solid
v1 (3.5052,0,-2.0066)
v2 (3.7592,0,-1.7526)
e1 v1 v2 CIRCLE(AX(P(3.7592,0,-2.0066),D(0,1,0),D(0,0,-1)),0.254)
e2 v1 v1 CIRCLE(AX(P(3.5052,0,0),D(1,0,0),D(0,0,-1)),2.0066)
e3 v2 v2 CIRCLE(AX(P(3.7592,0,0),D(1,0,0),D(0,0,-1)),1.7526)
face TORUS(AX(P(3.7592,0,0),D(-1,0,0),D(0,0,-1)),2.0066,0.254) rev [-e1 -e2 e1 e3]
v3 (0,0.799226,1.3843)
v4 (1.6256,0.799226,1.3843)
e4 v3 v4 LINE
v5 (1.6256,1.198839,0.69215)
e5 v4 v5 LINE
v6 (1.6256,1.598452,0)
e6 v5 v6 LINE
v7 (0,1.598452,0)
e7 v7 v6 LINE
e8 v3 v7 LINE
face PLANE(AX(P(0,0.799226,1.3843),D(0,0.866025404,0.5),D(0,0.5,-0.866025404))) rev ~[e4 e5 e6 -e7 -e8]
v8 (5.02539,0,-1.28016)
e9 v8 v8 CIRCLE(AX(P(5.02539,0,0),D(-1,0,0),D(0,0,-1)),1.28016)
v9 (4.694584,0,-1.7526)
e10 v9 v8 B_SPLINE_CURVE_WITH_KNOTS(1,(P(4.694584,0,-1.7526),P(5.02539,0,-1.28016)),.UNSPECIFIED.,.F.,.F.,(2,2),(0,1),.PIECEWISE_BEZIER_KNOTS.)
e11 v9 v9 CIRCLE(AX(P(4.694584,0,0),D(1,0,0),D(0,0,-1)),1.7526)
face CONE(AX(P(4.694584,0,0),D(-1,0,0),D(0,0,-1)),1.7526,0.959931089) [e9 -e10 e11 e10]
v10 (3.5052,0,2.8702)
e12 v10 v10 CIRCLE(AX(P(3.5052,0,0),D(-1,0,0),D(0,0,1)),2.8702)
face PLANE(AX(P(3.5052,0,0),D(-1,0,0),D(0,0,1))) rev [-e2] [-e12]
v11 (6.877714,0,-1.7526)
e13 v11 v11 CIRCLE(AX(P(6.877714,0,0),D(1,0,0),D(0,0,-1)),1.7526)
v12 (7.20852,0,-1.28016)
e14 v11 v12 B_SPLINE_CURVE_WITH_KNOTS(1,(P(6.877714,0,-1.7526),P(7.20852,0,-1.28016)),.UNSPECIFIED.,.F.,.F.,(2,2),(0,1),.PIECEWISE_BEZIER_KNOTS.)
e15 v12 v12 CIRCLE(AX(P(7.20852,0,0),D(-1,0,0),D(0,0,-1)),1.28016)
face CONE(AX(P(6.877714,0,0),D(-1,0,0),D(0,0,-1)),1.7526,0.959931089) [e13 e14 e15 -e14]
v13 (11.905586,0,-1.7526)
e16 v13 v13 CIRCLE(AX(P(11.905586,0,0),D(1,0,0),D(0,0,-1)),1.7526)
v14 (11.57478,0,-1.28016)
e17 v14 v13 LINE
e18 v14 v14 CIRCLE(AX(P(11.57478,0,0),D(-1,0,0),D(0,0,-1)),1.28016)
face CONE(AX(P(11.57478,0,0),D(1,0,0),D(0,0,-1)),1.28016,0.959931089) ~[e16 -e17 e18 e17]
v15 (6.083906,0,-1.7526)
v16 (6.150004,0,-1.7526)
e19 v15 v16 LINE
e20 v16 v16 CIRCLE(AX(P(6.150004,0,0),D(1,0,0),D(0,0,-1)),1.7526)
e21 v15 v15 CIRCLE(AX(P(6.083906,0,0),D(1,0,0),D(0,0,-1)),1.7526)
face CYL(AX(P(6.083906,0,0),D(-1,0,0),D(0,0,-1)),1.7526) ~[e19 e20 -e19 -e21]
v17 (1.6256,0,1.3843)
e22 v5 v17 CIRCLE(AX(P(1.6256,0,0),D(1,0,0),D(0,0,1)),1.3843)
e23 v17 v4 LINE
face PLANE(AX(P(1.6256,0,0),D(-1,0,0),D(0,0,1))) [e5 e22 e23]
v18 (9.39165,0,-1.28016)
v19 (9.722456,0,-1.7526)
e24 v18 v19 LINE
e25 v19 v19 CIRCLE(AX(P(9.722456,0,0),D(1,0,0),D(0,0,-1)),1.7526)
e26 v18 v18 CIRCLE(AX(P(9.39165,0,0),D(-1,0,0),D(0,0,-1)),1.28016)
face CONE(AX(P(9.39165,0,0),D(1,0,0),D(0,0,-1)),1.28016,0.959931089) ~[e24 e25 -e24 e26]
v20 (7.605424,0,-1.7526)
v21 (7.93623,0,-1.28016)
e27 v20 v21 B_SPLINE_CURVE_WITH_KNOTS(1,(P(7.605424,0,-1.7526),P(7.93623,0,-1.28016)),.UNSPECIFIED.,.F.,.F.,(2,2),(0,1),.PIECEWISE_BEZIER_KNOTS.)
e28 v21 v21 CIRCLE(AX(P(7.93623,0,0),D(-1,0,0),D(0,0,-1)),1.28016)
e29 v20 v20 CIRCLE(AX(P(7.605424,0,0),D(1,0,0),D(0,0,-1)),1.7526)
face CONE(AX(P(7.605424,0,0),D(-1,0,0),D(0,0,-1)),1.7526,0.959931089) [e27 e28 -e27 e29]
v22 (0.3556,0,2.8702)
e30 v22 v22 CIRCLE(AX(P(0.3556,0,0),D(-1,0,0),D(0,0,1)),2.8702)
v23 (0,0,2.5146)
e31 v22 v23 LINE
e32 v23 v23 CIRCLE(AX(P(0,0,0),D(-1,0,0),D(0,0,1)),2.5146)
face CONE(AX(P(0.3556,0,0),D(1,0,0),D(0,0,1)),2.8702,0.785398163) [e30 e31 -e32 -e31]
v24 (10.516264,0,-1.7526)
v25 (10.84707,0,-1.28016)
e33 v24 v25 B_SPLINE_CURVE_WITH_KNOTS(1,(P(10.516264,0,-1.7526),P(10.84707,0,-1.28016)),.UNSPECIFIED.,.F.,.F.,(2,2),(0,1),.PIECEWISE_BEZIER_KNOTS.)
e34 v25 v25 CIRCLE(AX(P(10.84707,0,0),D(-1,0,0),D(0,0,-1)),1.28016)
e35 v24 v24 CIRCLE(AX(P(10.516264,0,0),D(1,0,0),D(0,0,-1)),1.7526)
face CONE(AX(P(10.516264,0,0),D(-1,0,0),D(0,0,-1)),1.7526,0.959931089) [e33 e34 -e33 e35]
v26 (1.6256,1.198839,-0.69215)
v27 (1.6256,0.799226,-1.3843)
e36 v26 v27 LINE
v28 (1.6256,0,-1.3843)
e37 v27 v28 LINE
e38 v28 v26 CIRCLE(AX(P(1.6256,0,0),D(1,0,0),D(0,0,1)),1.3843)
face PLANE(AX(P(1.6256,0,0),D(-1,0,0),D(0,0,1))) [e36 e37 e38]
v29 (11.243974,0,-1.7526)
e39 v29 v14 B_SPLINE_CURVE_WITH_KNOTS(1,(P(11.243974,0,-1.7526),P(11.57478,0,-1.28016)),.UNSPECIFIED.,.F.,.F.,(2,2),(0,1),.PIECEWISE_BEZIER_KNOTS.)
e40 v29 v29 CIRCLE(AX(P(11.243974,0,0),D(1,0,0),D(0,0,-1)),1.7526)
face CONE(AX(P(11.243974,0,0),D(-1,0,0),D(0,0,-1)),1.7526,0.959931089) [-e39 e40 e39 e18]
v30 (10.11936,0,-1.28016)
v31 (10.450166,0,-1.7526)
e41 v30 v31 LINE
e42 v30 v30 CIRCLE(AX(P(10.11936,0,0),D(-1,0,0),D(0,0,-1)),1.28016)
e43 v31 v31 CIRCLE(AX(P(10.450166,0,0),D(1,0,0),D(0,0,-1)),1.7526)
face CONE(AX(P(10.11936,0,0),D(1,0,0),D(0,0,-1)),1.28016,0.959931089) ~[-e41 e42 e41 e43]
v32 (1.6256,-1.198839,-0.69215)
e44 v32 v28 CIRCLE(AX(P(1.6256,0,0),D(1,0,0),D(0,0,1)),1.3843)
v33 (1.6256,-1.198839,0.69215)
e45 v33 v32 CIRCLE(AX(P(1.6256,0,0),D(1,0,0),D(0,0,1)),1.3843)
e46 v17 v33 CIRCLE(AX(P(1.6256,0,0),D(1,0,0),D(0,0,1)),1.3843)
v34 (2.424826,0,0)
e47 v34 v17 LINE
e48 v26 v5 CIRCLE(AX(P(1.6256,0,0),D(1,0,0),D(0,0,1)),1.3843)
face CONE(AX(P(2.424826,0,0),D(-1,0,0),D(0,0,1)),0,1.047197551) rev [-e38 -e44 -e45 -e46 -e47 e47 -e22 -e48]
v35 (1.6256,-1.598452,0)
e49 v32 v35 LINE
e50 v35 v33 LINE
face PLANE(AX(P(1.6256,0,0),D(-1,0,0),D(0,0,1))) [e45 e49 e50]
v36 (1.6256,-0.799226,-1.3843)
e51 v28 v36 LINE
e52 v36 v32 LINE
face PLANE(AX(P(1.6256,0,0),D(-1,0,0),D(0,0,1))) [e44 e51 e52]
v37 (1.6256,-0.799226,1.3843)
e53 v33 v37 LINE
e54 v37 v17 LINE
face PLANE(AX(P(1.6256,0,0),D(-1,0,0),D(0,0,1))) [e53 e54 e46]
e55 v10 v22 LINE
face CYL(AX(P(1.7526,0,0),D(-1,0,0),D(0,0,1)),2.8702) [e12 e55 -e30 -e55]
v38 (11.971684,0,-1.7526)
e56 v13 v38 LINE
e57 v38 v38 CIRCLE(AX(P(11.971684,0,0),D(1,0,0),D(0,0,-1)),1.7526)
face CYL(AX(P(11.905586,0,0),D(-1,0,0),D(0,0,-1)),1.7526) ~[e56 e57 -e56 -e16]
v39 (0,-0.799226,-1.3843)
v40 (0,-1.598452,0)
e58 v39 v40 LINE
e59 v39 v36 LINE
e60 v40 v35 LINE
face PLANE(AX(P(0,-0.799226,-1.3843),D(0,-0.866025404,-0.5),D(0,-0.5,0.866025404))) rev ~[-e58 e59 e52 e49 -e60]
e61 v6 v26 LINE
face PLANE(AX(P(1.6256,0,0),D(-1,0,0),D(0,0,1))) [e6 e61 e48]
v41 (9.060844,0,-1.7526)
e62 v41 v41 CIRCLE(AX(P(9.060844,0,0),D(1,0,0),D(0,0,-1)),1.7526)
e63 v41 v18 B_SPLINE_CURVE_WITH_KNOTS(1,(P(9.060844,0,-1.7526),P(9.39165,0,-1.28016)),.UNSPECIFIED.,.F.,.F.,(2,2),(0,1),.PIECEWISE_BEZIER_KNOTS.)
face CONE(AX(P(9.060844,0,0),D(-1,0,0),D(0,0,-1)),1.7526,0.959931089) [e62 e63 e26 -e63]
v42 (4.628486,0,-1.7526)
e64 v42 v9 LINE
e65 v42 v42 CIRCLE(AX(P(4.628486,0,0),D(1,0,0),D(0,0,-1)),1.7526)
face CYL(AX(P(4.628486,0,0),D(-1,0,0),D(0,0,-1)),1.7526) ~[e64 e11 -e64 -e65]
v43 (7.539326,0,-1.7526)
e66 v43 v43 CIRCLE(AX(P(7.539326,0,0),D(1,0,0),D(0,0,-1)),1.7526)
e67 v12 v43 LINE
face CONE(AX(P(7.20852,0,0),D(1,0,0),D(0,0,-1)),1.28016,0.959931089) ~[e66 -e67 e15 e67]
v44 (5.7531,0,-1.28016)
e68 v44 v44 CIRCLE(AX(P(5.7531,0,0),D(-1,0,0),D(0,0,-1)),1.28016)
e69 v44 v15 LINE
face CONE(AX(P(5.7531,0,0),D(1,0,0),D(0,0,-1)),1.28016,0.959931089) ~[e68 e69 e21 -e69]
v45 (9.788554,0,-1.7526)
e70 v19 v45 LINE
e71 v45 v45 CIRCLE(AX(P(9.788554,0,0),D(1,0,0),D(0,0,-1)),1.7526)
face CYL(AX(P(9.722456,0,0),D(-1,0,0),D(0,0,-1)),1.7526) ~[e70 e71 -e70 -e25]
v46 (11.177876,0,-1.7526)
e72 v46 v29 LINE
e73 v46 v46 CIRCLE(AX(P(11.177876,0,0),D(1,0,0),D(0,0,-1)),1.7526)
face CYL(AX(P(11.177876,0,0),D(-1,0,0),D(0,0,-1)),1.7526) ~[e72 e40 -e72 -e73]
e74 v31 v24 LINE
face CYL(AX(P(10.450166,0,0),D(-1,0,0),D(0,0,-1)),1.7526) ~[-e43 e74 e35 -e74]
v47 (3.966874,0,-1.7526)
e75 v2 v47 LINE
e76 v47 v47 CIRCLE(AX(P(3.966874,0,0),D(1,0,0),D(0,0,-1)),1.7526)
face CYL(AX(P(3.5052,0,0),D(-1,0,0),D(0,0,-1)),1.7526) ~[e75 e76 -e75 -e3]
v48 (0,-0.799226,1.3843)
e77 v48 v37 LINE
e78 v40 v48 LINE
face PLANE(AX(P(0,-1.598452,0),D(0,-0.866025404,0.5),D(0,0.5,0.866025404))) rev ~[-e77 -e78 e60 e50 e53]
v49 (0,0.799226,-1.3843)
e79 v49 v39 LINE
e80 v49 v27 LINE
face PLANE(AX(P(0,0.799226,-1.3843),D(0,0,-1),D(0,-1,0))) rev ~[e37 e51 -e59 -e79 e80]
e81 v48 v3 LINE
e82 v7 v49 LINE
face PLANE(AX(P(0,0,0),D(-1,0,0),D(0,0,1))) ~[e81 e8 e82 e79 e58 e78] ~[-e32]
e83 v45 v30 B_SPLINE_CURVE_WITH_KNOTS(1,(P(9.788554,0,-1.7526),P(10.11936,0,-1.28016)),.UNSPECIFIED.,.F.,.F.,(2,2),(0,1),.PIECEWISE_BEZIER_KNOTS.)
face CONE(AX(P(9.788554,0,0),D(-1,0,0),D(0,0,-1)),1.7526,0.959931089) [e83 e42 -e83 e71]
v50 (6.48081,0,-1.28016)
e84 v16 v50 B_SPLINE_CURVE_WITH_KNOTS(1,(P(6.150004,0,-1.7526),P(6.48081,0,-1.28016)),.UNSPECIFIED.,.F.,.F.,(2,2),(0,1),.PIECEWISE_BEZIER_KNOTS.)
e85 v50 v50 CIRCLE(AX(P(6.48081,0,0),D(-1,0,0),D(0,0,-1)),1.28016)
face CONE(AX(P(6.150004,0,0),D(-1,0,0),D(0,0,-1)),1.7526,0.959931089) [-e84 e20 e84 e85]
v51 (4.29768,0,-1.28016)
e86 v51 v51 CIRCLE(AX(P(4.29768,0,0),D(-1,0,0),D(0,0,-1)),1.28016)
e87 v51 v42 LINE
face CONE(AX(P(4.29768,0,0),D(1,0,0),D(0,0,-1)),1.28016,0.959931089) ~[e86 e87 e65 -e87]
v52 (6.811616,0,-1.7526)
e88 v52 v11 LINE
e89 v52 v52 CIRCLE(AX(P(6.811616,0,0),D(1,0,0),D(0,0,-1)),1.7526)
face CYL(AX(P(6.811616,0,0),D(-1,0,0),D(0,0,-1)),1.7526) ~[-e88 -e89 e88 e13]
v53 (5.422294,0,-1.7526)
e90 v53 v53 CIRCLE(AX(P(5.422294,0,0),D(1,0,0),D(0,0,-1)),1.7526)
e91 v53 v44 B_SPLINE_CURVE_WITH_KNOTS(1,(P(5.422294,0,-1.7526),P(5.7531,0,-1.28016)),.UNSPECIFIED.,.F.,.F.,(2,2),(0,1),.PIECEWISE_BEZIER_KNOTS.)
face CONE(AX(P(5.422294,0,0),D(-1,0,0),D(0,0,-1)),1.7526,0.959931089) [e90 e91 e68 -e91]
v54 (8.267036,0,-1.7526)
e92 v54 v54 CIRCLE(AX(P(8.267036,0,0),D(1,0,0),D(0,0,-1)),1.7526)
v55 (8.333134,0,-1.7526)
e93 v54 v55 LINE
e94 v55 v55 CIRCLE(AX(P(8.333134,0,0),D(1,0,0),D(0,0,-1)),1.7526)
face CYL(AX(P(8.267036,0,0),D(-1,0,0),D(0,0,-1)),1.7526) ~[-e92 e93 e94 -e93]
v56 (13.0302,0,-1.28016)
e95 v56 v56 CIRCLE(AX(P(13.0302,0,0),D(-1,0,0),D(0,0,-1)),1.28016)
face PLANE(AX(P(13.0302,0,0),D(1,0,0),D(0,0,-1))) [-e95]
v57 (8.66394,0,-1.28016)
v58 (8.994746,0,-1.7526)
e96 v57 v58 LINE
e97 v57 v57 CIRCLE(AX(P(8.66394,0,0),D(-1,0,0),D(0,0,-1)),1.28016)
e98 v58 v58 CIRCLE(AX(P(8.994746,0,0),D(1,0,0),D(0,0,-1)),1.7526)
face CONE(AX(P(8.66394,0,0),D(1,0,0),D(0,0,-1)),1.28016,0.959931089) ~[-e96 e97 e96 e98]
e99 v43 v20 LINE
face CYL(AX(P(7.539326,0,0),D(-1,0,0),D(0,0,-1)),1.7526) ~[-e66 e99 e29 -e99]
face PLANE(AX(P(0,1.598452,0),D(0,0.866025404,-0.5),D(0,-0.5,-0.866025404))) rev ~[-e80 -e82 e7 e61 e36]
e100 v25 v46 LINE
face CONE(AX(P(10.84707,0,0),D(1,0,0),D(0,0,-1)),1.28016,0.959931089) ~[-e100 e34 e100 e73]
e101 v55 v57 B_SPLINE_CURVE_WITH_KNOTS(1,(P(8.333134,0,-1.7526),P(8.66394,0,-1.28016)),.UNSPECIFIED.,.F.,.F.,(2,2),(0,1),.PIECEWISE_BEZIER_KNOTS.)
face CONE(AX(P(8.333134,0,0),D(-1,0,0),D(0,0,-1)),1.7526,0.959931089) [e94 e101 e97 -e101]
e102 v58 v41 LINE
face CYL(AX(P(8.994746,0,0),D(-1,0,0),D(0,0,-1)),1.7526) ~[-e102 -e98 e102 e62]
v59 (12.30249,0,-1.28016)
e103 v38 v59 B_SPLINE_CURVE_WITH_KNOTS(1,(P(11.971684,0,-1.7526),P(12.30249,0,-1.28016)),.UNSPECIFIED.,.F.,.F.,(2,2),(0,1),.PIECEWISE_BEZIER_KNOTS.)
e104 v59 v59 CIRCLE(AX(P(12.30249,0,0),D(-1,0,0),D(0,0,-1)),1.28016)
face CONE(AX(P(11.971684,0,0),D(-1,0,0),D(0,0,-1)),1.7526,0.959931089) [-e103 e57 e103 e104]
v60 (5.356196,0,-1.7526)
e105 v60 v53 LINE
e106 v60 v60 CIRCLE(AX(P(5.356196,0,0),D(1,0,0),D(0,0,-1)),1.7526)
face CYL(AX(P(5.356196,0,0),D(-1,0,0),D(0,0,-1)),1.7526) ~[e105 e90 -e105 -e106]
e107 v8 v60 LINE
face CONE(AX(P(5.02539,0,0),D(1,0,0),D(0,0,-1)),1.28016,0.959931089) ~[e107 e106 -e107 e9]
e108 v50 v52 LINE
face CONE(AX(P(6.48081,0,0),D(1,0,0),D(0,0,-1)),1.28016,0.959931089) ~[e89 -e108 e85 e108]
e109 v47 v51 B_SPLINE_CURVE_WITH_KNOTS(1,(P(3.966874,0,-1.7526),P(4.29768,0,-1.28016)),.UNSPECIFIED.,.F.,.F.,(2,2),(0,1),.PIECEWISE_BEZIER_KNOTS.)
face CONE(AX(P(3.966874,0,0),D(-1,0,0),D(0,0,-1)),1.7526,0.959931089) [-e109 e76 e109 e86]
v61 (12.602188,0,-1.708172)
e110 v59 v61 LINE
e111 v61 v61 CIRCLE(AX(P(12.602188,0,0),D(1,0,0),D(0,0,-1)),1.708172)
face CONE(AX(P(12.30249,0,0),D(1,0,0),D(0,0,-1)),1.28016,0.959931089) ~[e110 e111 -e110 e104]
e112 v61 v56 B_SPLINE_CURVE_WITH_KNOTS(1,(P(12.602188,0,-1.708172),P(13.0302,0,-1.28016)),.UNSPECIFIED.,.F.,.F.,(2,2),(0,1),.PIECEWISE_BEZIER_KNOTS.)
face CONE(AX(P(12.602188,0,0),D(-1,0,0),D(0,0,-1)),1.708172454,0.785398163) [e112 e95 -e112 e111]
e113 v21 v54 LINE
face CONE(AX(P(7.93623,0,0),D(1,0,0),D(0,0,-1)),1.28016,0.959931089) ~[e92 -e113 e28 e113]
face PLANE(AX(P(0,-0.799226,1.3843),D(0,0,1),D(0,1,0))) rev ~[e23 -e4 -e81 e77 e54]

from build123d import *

# Parameters (mm, degrees)
SKETCH1_W            = 3.5052
SKETCH1_H            = 2.8702
SKETCH2_R            = 1.7526
BOSS_EXTRUDE1_DEPTH  = 0.461673951
SKETCH3_R            = 1.7526
BOSS_EXTRUDE2_DEPTH  = 0.330806049
BOSS_EXTRUDE2_TAPER  = 54.999999998
SKETCH4_R            = 1.28016
BOSS_EXTRUDE3_DEPTH  = 0.330806049
BOSS_EXTRUDE3_DRAFT  = -55
SKETCH5_R            = 1.7526
BOSS_EXTRUDE4_DEPTH  = 0.066097901
SKETCH6_R            = 1.7526
BOSS_EXTRUDE5_DEPTH  = 0.330806049
BOSS_EXTRUDE5_TAPER  = 54.999999998
SKETCH7_R            = 1.28016
BOSS_EXTRUDE6_DEPTH  = 0.330806049
BOSS_EXTRUDE6_DRAFT  = -55
SKETCH8_R            = 1.7526
BOSS_EXTRUDE7_DEPTH  = 0.066097901
SKETCH9_R            = 1.7526
BOSS_EXTRUDE8_DEPTH  = 0.330806049
BOSS_EXTRUDE8_TAPER  = 54.999999998
SKETCH10_R           = 1.28016
BOSS_EXTRUDE9_DEPTH  = 0.330806049
BOSS_EXTRUDE9_DRAFT  = -55
SKETCH11_R           = 1.7526
BOSS_EXTRUDE10_DEPTH = 0.066097901
SKETCH12_R           = 1.7526
BOSS_EXTRUDE11_DEPTH = 0.330806049
BOSS_EXTRUDE11_TAPER = 54.999999998
SKETCH13_R           = 1.28016
BOSS_EXTRUDE12_DEPTH = 0.330806049
BOSS_EXTRUDE12_DRAFT = -55
SKETCH14_R           = 1.7526
BOSS_EXTRUDE13_DEPTH = 0.066097901
SKETCH15_R           = 1.7526
BOSS_EXTRUDE14_DEPTH = 0.330806049
BOSS_EXTRUDE14_TAPER = 54.999999998
SKETCH16_R           = 1.28016
BOSS_EXTRUDE15_DEPTH = 0.330806049
BOSS_EXTRUDE15_DRAFT = -55
SKETCH17_R           = 1.7526
BOSS_EXTRUDE16_DEPTH = 0.066097901
SKETCH18_R           = 1.7526
BOSS_EXTRUDE17_DEPTH = 0.330806049
BOSS_EXTRUDE17_TAPER = 54.999999998
SKETCH19_R           = 1.28016
BOSS_EXTRUDE18_DEPTH = 0.330806049
BOSS_EXTRUDE18_DRAFT = -55
SKETCH20_R           = 1.7526
BOSS_EXTRUDE19_DEPTH = 0.066097901
SKETCH21_R           = 1.7526
BOSS_EXTRUDE20_DEPTH = 0.330806049
BOSS_EXTRUDE20_TAPER = 54.999999998
SKETCH22_R           = 1.28016
BOSS_EXTRUDE21_DEPTH = 0.330806049
BOSS_EXTRUDE21_DRAFT = -55
SKETCH23_R           = 1.7526
BOSS_EXTRUDE22_DEPTH = 0.066097901
SKETCH24_R           = 1.7526
BOSS_EXTRUDE23_DEPTH = 0.330806049
BOSS_EXTRUDE23_TAPER = 54.999999998
SKETCH25_R           = 1.28016
BOSS_EXTRUDE24_DEPTH = 0.330806049
BOSS_EXTRUDE24_DRAFT = -55.000000004
SKETCH26_R           = 1.7526
BOSS_EXTRUDE25_DEPTH = 0.066097901
SKETCH27_R           = 1.7526
BOSS_EXTRUDE26_DEPTH = 0.330806049
BOSS_EXTRUDE26_TAPER = 54.999999998
SKETCH28_R           = 1.28016
BOSS_EXTRUDE27_DEPTH = 0.330806049
BOSS_EXTRUDE27_DRAFT = -55
SKETCH29_R           = 1.7526
BOSS_EXTRUDE28_DEPTH = 0.066097901
SKETCH30_R           = 1.7526
BOSS_EXTRUDE29_DEPTH = 0.330806049
BOSS_EXTRUDE29_TAPER = 54.999999998
SKETCH31_R           = 1.28016
BOSS_EXTRUDE30_DEPTH = 0.330806049
BOSS_EXTRUDE30_DRAFT = -55.000000004
SKETCH32_R           = 1.7526
BOSS_EXTRUDE31_DEPTH = 0.066097901
SKETCH33_R           = 1.7526
BOSS_EXTRUDE32_DEPTH = 0.330806049
BOSS_EXTRUDE32_TAPER = 54.999999998
SKETCH34_R           = 1.28016
BOSS_EXTRUDE33_DEPTH = 0.330806049
BOSS_EXTRUDE33_DRAFT = -55.000000004
SKETCH35_R           = 1.7526
BOSS_EXTRUDE34_DEPTH = 0.066097901
SKETCH36_R           = 1.7526
BOSS_EXTRUDE35_DEPTH = 0.330806049
BOSS_EXTRUDE35_TAPER = 54.999999998
SKETCH37_R           = 1.28016
BOSS_EXTRUDE36_DEPTH = 0.299697546
BOSS_EXTRUDE36_DRAFT = -55.000000002
SKETCH38_R           = 1.708172454
BOSS_EXTRUDE37_DEPTH = 0.428012454
BOSS_EXTRUDE37_TAPER = 45
CUT_EXTRUDE1_DEPTH   = 1.6256
CHAMFER1_SIZE        = 0.3556
FILLET1_R            = 0.254


with BuildPart() as part:
    # Sketch1 → Revolve1 (revolve)
    with BuildSketch(Plane(origin=(0, 0, 0), x_dir=(-1, 0, 0), z_dir=(0, 0, -1)), mode=Mode.PRIVATE) as revolve1_sk:
        with Locations((-1.7526, 1.4351)):
            Rectangle(SKETCH1_W, SKETCH1_H)
    revolve(revolve1_sk.sketch.rotate(Axis((3.5052, 0, 0), (-1, 0, 0)), 270), axis=Axis((3.5052, 0, 0), (-1, 0, 0)))

    # Sketch2 → Boss-Extrude1 (add)
    with BuildSketch(Plane(origin=(3.5052, 0, 0), x_dir=(0, 0, -1), z_dir=(1, 0, 0))):
        Circle(SKETCH2_R)
    extrude(amount=BOSS_EXTRUDE1_DEPTH)

    # Sketch3 → Boss-Extrude2 (add)
    with BuildSketch(Plane(origin=(3.966873951, 0, 0), x_dir=(0, 0, -1), z_dir=(1, 0, 0))):
        Circle(SKETCH3_R)
    extrude(amount=BOSS_EXTRUDE2_DEPTH, taper=BOSS_EXTRUDE2_TAPER)


with BuildPart() as boss_extrude3_tool:
    # Sketch4 → Boss-Extrude3 (with draft: the straight prism first)
    with BuildSketch(Plane(origin=(4.29768, 0, 0), x_dir=(0, 0, -1), z_dir=(1, 0, 0))):
        Circle(SKETCH4_R)
    extrude(amount=BOSS_EXTRUDE3_DEPTH)
    # Boss-Extrude3: the draft: its side faces are tilted about the plane it starts from
    boss_extrude3_sides = [boss_extrude3_tool.faces().sort_by_distance(p)[0] for p in [
        (4.463083025, 0, 1.28016),
    ]]
    draft(boss_extrude3_sides, Plane(origin=(4.29768, 0, 0), x_dir=(0, 0, -1), z_dir=(1, 0, 0)), BOSS_EXTRUDE3_DRAFT)


with BuildPart() as part_1:
    add(part.part)

    # Boss-Extrude3: add boss_extrude3_tool
    add(boss_extrude3_tool.part)

    # Sketch5 → Boss-Extrude4 (add)
    with BuildSketch(Plane(origin=(4.628486049, 0, 0), x_dir=(0, 0, -1), z_dir=(1, 0, 0))):
        Circle(SKETCH5_R)
    extrude(amount=BOSS_EXTRUDE4_DEPTH)

    # Sketch6 → Boss-Extrude5 (add)
    with BuildSketch(Plane(origin=(4.694583951, 0, 0), x_dir=(0, 0, -1), z_dir=(1, 0, 0))):
        Circle(SKETCH6_R)
    extrude(amount=BOSS_EXTRUDE5_DEPTH, taper=BOSS_EXTRUDE5_TAPER)


with BuildPart() as boss_extrude6_tool:
    # Sketch7 → Boss-Extrude6 (with draft: the straight prism first)
    with BuildSketch(Plane(origin=(5.02539, 0, 0), x_dir=(0, 0, -1), z_dir=(1, 0, 0))):
        Circle(SKETCH7_R)
    extrude(amount=BOSS_EXTRUDE6_DEPTH)
    # Boss-Extrude6: the draft: its side faces are tilted about the plane it starts from
    boss_extrude6_sides = [boss_extrude6_tool.faces().sort_by_distance(p)[0] for p in [
        (5.190793025, 0, 1.28016),
    ]]
    draft(boss_extrude6_sides, Plane(origin=(5.02539, 0, 0), x_dir=(0, 0, -1), z_dir=(1, 0, 0)), BOSS_EXTRUDE6_DRAFT)


with BuildPart() as part_2:
    add(part_1.part)

    # Boss-Extrude6: add boss_extrude6_tool
    add(boss_extrude6_tool.part)

    # Sketch8 → Boss-Extrude7 (add)
    with BuildSketch(Plane(origin=(5.356196049, 0, 0), x_dir=(0, 0, -1), z_dir=(1, 0, 0))):
        Circle(SKETCH8_R)
    extrude(amount=BOSS_EXTRUDE7_DEPTH)

    # Sketch9 → Boss-Extrude8 (add)
    with BuildSketch(Plane(origin=(5.422293951, 0, 0), x_dir=(0, 0, -1), z_dir=(1, 0, 0))):
        Circle(SKETCH9_R)
    extrude(amount=BOSS_EXTRUDE8_DEPTH, taper=BOSS_EXTRUDE8_TAPER)


with BuildPart() as boss_extrude9_tool:
    # Sketch10 → Boss-Extrude9 (with draft: the straight prism first)
    with BuildSketch(Plane(origin=(5.7531, 0, 0), x_dir=(0, 0, -1), z_dir=(1, 0, 0))):
        Circle(SKETCH10_R)
    extrude(amount=BOSS_EXTRUDE9_DEPTH)
    # Boss-Extrude9: the draft: its side faces are tilted about the plane it starts from
    boss_extrude9_sides = [boss_extrude9_tool.faces().sort_by_distance(p)[0] for p in [
        (5.918503025, 0, 1.28016),
    ]]
    draft(boss_extrude9_sides, Plane(origin=(5.7531, 0, 0), x_dir=(0, 0, -1), z_dir=(1, 0, 0)), BOSS_EXTRUDE9_DRAFT)


with BuildPart() as part_3:
    add(part_2.part)

    # Boss-Extrude9: add boss_extrude9_tool
    add(boss_extrude9_tool.part)

    # Sketch11 → Boss-Extrude10 (add)
    with BuildSketch(Plane(origin=(6.083906049, 0, 0), x_dir=(0, 0, -1), z_dir=(1, 0, 0))):
        Circle(SKETCH11_R)
    extrude(amount=BOSS_EXTRUDE10_DEPTH)

    # Sketch12 → Boss-Extrude11 (add)
    with BuildSketch(Plane(origin=(6.150003951, 0, 0), x_dir=(0, 0, -1), z_dir=(1, 0, 0))):
        Circle(SKETCH12_R)
    extrude(amount=BOSS_EXTRUDE11_DEPTH, taper=BOSS_EXTRUDE11_TAPER)


with BuildPart() as boss_extrude12_tool:
    # Sketch13 → Boss-Extrude12 (with draft: the straight prism first)
    with BuildSketch(Plane(origin=(6.48081, 0, 0), x_dir=(0, 0, -1), z_dir=(1, 0, 0))):
        Circle(SKETCH13_R)
    extrude(amount=BOSS_EXTRUDE12_DEPTH)
    # Boss-Extrude12: the draft: its side faces are tilted about the plane it starts from
    boss_extrude12_sides = [boss_extrude12_tool.faces().sort_by_distance(p)[0] for p in [
        (6.646213025, 0, 1.28016),
    ]]
    draft(boss_extrude12_sides, Plane(origin=(6.48081, 0, 0), x_dir=(0, 0, -1), z_dir=(1, 0, 0)), BOSS_EXTRUDE12_DRAFT)


with BuildPart() as part_4:
    add(part_3.part)

    # Boss-Extrude12: add boss_extrude12_tool
    add(boss_extrude12_tool.part)

    # Sketch14 → Boss-Extrude13 (add)
    with BuildSketch(Plane(origin=(6.811616049, 0, 0), x_dir=(0, 0, -1), z_dir=(1, 0, 0))):
        Circle(SKETCH14_R)
    extrude(amount=BOSS_EXTRUDE13_DEPTH)

    # Sketch15 → Boss-Extrude14 (add)
    with BuildSketch(Plane(origin=(6.877713951, 0, 0), x_dir=(0, 0, -1), z_dir=(1, 0, 0))):
        Circle(SKETCH15_R)
    extrude(amount=BOSS_EXTRUDE14_DEPTH, taper=BOSS_EXTRUDE14_TAPER)


with BuildPart() as boss_extrude15_tool:
    # Sketch16 → Boss-Extrude15 (with draft: the straight prism first)
    with BuildSketch(Plane(origin=(7.20852, 0, 0), x_dir=(0, 0, -1), z_dir=(1, 0, 0))):
        Circle(SKETCH16_R)
    extrude(amount=BOSS_EXTRUDE15_DEPTH)
    # Boss-Extrude15: the draft: its side faces are tilted about the plane it starts from
    boss_extrude15_sides = [boss_extrude15_tool.faces().sort_by_distance(p)[0] for p in [
        (7.373923025, 0, 1.28016),
    ]]
    draft(boss_extrude15_sides, Plane(origin=(7.20852, 0, 0), x_dir=(0, 0, -1), z_dir=(1, 0, 0)), BOSS_EXTRUDE15_DRAFT)


with BuildPart() as part_5:
    add(part_4.part)

    # Boss-Extrude15: add boss_extrude15_tool
    add(boss_extrude15_tool.part)

    # Sketch17 → Boss-Extrude16 (add)
    with BuildSketch(Plane(origin=(7.539326049, 0, 0), x_dir=(0, 0, -1), z_dir=(1, 0, 0))):
        Circle(SKETCH17_R)
    extrude(amount=BOSS_EXTRUDE16_DEPTH)

    # Sketch18 → Boss-Extrude17 (add)
    with BuildSketch(Plane(origin=(7.605423951, 0, 0), x_dir=(0, 0, -1), z_dir=(1, 0, 0))):
        Circle(SKETCH18_R)
    extrude(amount=BOSS_EXTRUDE17_DEPTH, taper=BOSS_EXTRUDE17_TAPER)


with BuildPart() as boss_extrude18_tool:
    # Sketch19 → Boss-Extrude18 (with draft: the straight prism first)
    with BuildSketch(Plane(origin=(7.93623, 0, 0), x_dir=(0, 0, -1), z_dir=(1, 0, 0))):
        Circle(SKETCH19_R)
    extrude(amount=BOSS_EXTRUDE18_DEPTH)
    # Boss-Extrude18: the draft: its side faces are tilted about the plane it starts from
    boss_extrude18_sides = [boss_extrude18_tool.faces().sort_by_distance(p)[0] for p in [
        (8.101633025, 0, 1.28016),
    ]]
    draft(boss_extrude18_sides, Plane(origin=(7.93623, 0, 0), x_dir=(0, 0, -1), z_dir=(1, 0, 0)), BOSS_EXTRUDE18_DRAFT)


with BuildPart() as part_6:
    add(part_5.part)

    # Boss-Extrude18: add boss_extrude18_tool
    add(boss_extrude18_tool.part)

    # Sketch20 → Boss-Extrude19 (add)
    with BuildSketch(Plane(origin=(8.267036049, 0, 0), x_dir=(0, 0, -1), z_dir=(1, 0, 0))):
        Circle(SKETCH20_R)
    extrude(amount=BOSS_EXTRUDE19_DEPTH)

    # Sketch21 → Boss-Extrude20 (add)
    with BuildSketch(Plane(origin=(8.333133951, 0, 0), x_dir=(0, 0, -1), z_dir=(1, 0, 0))):
        Circle(SKETCH21_R)
    extrude(amount=BOSS_EXTRUDE20_DEPTH, taper=BOSS_EXTRUDE20_TAPER)


with BuildPart() as boss_extrude21_tool:
    # Sketch22 → Boss-Extrude21 (with draft: the straight prism first)
    with BuildSketch(Plane(origin=(8.66394, 0, 0), x_dir=(0, 0, -1), z_dir=(1, 0, 0))):
        Circle(SKETCH22_R)
    extrude(amount=BOSS_EXTRUDE21_DEPTH)
    # Boss-Extrude21: the draft: its side faces are tilted about the plane it starts from
    boss_extrude21_sides = [boss_extrude21_tool.faces().sort_by_distance(p)[0] for p in [
        (8.829343025, 0, 1.28016),
    ]]
    draft(boss_extrude21_sides, Plane(origin=(8.66394, 0, 0), x_dir=(0, 0, -1), z_dir=(1, 0, 0)), BOSS_EXTRUDE21_DRAFT)


with BuildPart() as part_7:
    add(part_6.part)

    # Boss-Extrude21: add boss_extrude21_tool
    add(boss_extrude21_tool.part)

    # Sketch23 → Boss-Extrude22 (add)
    with BuildSketch(Plane(origin=(8.994746049, 0, 0), x_dir=(0, 0, -1), z_dir=(1, 0, 0))):
        Circle(SKETCH23_R)
    extrude(amount=BOSS_EXTRUDE22_DEPTH)

    # Sketch24 → Boss-Extrude23 (add)
    with BuildSketch(Plane(origin=(9.060843951, 0, 0), x_dir=(0, 0, -1), z_dir=(1, 0, 0))):
        Circle(SKETCH24_R)
    extrude(amount=BOSS_EXTRUDE23_DEPTH, taper=BOSS_EXTRUDE23_TAPER)


with BuildPart() as boss_extrude24_tool:
    # Sketch25 → Boss-Extrude24 (with draft: the straight prism first)
    with BuildSketch(Plane(origin=(9.39165, 0, 0), x_dir=(0, 0, -1), z_dir=(1, 0, 0))):
        Circle(SKETCH25_R)
    extrude(amount=BOSS_EXTRUDE24_DEPTH)
    # Boss-Extrude24: the draft: its side faces are tilted about the plane it starts from
    boss_extrude24_sides = [boss_extrude24_tool.faces().sort_by_distance(p)[0] for p in [
        (9.557053025, 0, 1.28016),
    ]]
    draft(boss_extrude24_sides, Plane(origin=(9.39165, 0, 0), x_dir=(0, 0, -1), z_dir=(1, 0, 0)), BOSS_EXTRUDE24_DRAFT)


with BuildPart() as part_8:
    add(part_7.part)

    # Boss-Extrude24: add boss_extrude24_tool
    add(boss_extrude24_tool.part)

    # Sketch26 → Boss-Extrude25 (add)
    with BuildSketch(Plane(origin=(9.722456049, 0, 0), x_dir=(0, 0, -1), z_dir=(1, 0, 0))):
        Circle(SKETCH26_R)
    extrude(amount=BOSS_EXTRUDE25_DEPTH)

    # Sketch27 → Boss-Extrude26 (add)
    with BuildSketch(Plane(origin=(9.788553951, 0, 0), x_dir=(0, 0, -1), z_dir=(1, 0, 0))):
        Circle(SKETCH27_R)
    extrude(amount=BOSS_EXTRUDE26_DEPTH, taper=BOSS_EXTRUDE26_TAPER)


with BuildPart() as boss_extrude27_tool:
    # Sketch28 → Boss-Extrude27 (with draft: the straight prism first)
    with BuildSketch(Plane(origin=(10.11936, 0, 0), x_dir=(0, 0, -1), z_dir=(1, 0, 0))):
        Circle(SKETCH28_R)
    extrude(amount=BOSS_EXTRUDE27_DEPTH)
    # Boss-Extrude27: the draft: its side faces are tilted about the plane it starts from
    boss_extrude27_sides = [boss_extrude27_tool.faces().sort_by_distance(p)[0] for p in [
        (10.284763025, 0, 1.28016),
    ]]
    draft(boss_extrude27_sides, Plane(origin=(10.11936, 0, 0), x_dir=(0, 0, -1), z_dir=(1, 0, 0)), BOSS_EXTRUDE27_DRAFT)


with BuildPart() as part_9:
    add(part_8.part)

    # Boss-Extrude27: add boss_extrude27_tool
    add(boss_extrude27_tool.part)

    # Sketch29 → Boss-Extrude28 (add)
    with BuildSketch(Plane(origin=(10.450166049, 0, 0), x_dir=(0, 0, -1), z_dir=(1, 0, 0))):
        Circle(SKETCH29_R)
    extrude(amount=BOSS_EXTRUDE28_DEPTH)

    # Sketch30 → Boss-Extrude29 (add)
    with BuildSketch(Plane(origin=(10.516263951, 0, 0), x_dir=(0, 0, -1), z_dir=(1, 0, 0))):
        Circle(SKETCH30_R)
    extrude(amount=BOSS_EXTRUDE29_DEPTH, taper=BOSS_EXTRUDE29_TAPER)


with BuildPart() as boss_extrude30_tool:
    # Sketch31 → Boss-Extrude30 (with draft: the straight prism first)
    with BuildSketch(Plane(origin=(10.84707, 0, 0), x_dir=(0, 0, -1), z_dir=(1, 0, 0))):
        Circle(SKETCH31_R)
    extrude(amount=BOSS_EXTRUDE30_DEPTH)
    # Boss-Extrude30: the draft: its side faces are tilted about the plane it starts from
    boss_extrude30_sides = [boss_extrude30_tool.faces().sort_by_distance(p)[0] for p in [
        (11.012473025, 0, 1.28016),
    ]]
    draft(boss_extrude30_sides, Plane(origin=(10.84707, 0, 0), x_dir=(0, 0, -1), z_dir=(1, 0, 0)), BOSS_EXTRUDE30_DRAFT)


with BuildPart() as part_10:
    add(part_9.part)

    # Boss-Extrude30: add boss_extrude30_tool
    add(boss_extrude30_tool.part)

    # Sketch32 → Boss-Extrude31 (add)
    with BuildSketch(Plane(origin=(11.177876049, 0, 0), x_dir=(0, 0, -1), z_dir=(1, 0, 0))):
        Circle(SKETCH32_R)
    extrude(amount=BOSS_EXTRUDE31_DEPTH)

    # Sketch33 → Boss-Extrude32 (add)
    with BuildSketch(Plane(origin=(11.243973951, 0, 0), x_dir=(0, 0, -1), z_dir=(1, 0, 0))):
        Circle(SKETCH33_R)
    extrude(amount=BOSS_EXTRUDE32_DEPTH, taper=BOSS_EXTRUDE32_TAPER)


with BuildPart() as boss_extrude33_tool:
    # Sketch34 → Boss-Extrude33 (with draft: the straight prism first)
    with BuildSketch(Plane(origin=(11.57478, 0, 0), x_dir=(0, 0, -1), z_dir=(1, 0, 0))):
        Circle(SKETCH34_R)
    extrude(amount=BOSS_EXTRUDE33_DEPTH)
    # Boss-Extrude33: the draft: its side faces are tilted about the plane it starts from
    boss_extrude33_sides = [boss_extrude33_tool.faces().sort_by_distance(p)[0] for p in [
        (11.740183025, 0, 1.28016),
    ]]
    draft(boss_extrude33_sides, Plane(origin=(11.57478, 0, 0), x_dir=(0, 0, -1), z_dir=(1, 0, 0)), BOSS_EXTRUDE33_DRAFT)


with BuildPart() as part_11:
    add(part_10.part)

    # Boss-Extrude33: add boss_extrude33_tool
    add(boss_extrude33_tool.part)

    # Sketch35 → Boss-Extrude34 (add)
    with BuildSketch(Plane(origin=(11.905586049, 0, 0), x_dir=(0, 0, -1), z_dir=(1, 0, 0))):
        Circle(SKETCH35_R)
    extrude(amount=BOSS_EXTRUDE34_DEPTH)

    # Sketch36 → Boss-Extrude35 (add)
    with BuildSketch(Plane(origin=(11.971683951, 0, 0), x_dir=(0, 0, -1), z_dir=(1, 0, 0))):
        Circle(SKETCH36_R)
    extrude(amount=BOSS_EXTRUDE35_DEPTH, taper=BOSS_EXTRUDE35_TAPER)


with BuildPart() as boss_extrude36_tool:
    # Sketch37 → Boss-Extrude36 (with draft: the straight prism first)
    with BuildSketch(Plane(origin=(12.30249, 0, 0), x_dir=(0, 0, -1), z_dir=(1, 0, 0))):
        Circle(SKETCH37_R)
    extrude(amount=BOSS_EXTRUDE36_DEPTH)
    # Boss-Extrude36: the draft: its side faces are tilted about the plane it starts from
    boss_extrude36_sides = [boss_extrude36_tool.faces().sort_by_distance(p)[0] for p in [
        (12.452338773, 0, 1.28016),
    ]]
    draft(boss_extrude36_sides, Plane(origin=(12.30249, 0, 0), x_dir=(0, 0, -1), z_dir=(1, 0, 0)), BOSS_EXTRUDE36_DRAFT)


with BuildPart() as part_12:
    add(part_11.part)

    # Boss-Extrude36: add boss_extrude36_tool
    add(boss_extrude36_tool.part)

    # Sketch38 → Boss-Extrude37 (add)
    with BuildSketch(Plane(origin=(12.602187546, 0, 0), x_dir=(0, 0, -1), z_dir=(1, 0, 0))):
        Circle(SKETCH38_R)
    extrude(amount=BOSS_EXTRUDE37_DEPTH, taper=BOSS_EXTRUDE37_TAPER)

    # Sketch39 → Cut-Extrude1 (cut)
    with BuildSketch(Plane.ZY):
        Polygon((-1.3843, -0.799225978), (0, -1.598451955), (1.3843, -0.799225978), (1.3843, 0.799225978), (0, 1.598451955), (-1.3843, 0.799225978), align=None)
    extrude(amount=-CUT_EXTRUDE1_DEPTH, mode=Mode.SUBTRACT)

    # Sketch40 → Cut-Revolve1 (revolve, cut)
    with BuildSketch(Plane.XY, mode=Mode.PRIVATE) as cut_revolve1_sk:
        Polygon((1.6256, 1.3843), (1.6256, 0), (2.424825978, 0), align=None)
    revolve(cut_revolve1_sk.sketch.rotate(Axis((1.625575, 0, 0), (1, 0, 0)), 90), axis=Axis((1.625575, 0, 0), (1, 0, 0)), mode=Mode.SUBTRACT)

    # Chamfer1
    chamfer1_edges = [part_12.edges().sort_by_distance(p)[0] for p in [
        (0, 0, -2.8702),
    ]]
    chamfer(chamfer1_edges, length=CHAMFER1_SIZE)

    # Fillet1
    fillet1_edges = [part_12.edges().sort_by_distance(p)[0] for p in [
        (3.5052, 0, 1.7526),
    ]]
    fillet(fillet1_edges, radius=FILLET1_R)


solid = part_12.part
